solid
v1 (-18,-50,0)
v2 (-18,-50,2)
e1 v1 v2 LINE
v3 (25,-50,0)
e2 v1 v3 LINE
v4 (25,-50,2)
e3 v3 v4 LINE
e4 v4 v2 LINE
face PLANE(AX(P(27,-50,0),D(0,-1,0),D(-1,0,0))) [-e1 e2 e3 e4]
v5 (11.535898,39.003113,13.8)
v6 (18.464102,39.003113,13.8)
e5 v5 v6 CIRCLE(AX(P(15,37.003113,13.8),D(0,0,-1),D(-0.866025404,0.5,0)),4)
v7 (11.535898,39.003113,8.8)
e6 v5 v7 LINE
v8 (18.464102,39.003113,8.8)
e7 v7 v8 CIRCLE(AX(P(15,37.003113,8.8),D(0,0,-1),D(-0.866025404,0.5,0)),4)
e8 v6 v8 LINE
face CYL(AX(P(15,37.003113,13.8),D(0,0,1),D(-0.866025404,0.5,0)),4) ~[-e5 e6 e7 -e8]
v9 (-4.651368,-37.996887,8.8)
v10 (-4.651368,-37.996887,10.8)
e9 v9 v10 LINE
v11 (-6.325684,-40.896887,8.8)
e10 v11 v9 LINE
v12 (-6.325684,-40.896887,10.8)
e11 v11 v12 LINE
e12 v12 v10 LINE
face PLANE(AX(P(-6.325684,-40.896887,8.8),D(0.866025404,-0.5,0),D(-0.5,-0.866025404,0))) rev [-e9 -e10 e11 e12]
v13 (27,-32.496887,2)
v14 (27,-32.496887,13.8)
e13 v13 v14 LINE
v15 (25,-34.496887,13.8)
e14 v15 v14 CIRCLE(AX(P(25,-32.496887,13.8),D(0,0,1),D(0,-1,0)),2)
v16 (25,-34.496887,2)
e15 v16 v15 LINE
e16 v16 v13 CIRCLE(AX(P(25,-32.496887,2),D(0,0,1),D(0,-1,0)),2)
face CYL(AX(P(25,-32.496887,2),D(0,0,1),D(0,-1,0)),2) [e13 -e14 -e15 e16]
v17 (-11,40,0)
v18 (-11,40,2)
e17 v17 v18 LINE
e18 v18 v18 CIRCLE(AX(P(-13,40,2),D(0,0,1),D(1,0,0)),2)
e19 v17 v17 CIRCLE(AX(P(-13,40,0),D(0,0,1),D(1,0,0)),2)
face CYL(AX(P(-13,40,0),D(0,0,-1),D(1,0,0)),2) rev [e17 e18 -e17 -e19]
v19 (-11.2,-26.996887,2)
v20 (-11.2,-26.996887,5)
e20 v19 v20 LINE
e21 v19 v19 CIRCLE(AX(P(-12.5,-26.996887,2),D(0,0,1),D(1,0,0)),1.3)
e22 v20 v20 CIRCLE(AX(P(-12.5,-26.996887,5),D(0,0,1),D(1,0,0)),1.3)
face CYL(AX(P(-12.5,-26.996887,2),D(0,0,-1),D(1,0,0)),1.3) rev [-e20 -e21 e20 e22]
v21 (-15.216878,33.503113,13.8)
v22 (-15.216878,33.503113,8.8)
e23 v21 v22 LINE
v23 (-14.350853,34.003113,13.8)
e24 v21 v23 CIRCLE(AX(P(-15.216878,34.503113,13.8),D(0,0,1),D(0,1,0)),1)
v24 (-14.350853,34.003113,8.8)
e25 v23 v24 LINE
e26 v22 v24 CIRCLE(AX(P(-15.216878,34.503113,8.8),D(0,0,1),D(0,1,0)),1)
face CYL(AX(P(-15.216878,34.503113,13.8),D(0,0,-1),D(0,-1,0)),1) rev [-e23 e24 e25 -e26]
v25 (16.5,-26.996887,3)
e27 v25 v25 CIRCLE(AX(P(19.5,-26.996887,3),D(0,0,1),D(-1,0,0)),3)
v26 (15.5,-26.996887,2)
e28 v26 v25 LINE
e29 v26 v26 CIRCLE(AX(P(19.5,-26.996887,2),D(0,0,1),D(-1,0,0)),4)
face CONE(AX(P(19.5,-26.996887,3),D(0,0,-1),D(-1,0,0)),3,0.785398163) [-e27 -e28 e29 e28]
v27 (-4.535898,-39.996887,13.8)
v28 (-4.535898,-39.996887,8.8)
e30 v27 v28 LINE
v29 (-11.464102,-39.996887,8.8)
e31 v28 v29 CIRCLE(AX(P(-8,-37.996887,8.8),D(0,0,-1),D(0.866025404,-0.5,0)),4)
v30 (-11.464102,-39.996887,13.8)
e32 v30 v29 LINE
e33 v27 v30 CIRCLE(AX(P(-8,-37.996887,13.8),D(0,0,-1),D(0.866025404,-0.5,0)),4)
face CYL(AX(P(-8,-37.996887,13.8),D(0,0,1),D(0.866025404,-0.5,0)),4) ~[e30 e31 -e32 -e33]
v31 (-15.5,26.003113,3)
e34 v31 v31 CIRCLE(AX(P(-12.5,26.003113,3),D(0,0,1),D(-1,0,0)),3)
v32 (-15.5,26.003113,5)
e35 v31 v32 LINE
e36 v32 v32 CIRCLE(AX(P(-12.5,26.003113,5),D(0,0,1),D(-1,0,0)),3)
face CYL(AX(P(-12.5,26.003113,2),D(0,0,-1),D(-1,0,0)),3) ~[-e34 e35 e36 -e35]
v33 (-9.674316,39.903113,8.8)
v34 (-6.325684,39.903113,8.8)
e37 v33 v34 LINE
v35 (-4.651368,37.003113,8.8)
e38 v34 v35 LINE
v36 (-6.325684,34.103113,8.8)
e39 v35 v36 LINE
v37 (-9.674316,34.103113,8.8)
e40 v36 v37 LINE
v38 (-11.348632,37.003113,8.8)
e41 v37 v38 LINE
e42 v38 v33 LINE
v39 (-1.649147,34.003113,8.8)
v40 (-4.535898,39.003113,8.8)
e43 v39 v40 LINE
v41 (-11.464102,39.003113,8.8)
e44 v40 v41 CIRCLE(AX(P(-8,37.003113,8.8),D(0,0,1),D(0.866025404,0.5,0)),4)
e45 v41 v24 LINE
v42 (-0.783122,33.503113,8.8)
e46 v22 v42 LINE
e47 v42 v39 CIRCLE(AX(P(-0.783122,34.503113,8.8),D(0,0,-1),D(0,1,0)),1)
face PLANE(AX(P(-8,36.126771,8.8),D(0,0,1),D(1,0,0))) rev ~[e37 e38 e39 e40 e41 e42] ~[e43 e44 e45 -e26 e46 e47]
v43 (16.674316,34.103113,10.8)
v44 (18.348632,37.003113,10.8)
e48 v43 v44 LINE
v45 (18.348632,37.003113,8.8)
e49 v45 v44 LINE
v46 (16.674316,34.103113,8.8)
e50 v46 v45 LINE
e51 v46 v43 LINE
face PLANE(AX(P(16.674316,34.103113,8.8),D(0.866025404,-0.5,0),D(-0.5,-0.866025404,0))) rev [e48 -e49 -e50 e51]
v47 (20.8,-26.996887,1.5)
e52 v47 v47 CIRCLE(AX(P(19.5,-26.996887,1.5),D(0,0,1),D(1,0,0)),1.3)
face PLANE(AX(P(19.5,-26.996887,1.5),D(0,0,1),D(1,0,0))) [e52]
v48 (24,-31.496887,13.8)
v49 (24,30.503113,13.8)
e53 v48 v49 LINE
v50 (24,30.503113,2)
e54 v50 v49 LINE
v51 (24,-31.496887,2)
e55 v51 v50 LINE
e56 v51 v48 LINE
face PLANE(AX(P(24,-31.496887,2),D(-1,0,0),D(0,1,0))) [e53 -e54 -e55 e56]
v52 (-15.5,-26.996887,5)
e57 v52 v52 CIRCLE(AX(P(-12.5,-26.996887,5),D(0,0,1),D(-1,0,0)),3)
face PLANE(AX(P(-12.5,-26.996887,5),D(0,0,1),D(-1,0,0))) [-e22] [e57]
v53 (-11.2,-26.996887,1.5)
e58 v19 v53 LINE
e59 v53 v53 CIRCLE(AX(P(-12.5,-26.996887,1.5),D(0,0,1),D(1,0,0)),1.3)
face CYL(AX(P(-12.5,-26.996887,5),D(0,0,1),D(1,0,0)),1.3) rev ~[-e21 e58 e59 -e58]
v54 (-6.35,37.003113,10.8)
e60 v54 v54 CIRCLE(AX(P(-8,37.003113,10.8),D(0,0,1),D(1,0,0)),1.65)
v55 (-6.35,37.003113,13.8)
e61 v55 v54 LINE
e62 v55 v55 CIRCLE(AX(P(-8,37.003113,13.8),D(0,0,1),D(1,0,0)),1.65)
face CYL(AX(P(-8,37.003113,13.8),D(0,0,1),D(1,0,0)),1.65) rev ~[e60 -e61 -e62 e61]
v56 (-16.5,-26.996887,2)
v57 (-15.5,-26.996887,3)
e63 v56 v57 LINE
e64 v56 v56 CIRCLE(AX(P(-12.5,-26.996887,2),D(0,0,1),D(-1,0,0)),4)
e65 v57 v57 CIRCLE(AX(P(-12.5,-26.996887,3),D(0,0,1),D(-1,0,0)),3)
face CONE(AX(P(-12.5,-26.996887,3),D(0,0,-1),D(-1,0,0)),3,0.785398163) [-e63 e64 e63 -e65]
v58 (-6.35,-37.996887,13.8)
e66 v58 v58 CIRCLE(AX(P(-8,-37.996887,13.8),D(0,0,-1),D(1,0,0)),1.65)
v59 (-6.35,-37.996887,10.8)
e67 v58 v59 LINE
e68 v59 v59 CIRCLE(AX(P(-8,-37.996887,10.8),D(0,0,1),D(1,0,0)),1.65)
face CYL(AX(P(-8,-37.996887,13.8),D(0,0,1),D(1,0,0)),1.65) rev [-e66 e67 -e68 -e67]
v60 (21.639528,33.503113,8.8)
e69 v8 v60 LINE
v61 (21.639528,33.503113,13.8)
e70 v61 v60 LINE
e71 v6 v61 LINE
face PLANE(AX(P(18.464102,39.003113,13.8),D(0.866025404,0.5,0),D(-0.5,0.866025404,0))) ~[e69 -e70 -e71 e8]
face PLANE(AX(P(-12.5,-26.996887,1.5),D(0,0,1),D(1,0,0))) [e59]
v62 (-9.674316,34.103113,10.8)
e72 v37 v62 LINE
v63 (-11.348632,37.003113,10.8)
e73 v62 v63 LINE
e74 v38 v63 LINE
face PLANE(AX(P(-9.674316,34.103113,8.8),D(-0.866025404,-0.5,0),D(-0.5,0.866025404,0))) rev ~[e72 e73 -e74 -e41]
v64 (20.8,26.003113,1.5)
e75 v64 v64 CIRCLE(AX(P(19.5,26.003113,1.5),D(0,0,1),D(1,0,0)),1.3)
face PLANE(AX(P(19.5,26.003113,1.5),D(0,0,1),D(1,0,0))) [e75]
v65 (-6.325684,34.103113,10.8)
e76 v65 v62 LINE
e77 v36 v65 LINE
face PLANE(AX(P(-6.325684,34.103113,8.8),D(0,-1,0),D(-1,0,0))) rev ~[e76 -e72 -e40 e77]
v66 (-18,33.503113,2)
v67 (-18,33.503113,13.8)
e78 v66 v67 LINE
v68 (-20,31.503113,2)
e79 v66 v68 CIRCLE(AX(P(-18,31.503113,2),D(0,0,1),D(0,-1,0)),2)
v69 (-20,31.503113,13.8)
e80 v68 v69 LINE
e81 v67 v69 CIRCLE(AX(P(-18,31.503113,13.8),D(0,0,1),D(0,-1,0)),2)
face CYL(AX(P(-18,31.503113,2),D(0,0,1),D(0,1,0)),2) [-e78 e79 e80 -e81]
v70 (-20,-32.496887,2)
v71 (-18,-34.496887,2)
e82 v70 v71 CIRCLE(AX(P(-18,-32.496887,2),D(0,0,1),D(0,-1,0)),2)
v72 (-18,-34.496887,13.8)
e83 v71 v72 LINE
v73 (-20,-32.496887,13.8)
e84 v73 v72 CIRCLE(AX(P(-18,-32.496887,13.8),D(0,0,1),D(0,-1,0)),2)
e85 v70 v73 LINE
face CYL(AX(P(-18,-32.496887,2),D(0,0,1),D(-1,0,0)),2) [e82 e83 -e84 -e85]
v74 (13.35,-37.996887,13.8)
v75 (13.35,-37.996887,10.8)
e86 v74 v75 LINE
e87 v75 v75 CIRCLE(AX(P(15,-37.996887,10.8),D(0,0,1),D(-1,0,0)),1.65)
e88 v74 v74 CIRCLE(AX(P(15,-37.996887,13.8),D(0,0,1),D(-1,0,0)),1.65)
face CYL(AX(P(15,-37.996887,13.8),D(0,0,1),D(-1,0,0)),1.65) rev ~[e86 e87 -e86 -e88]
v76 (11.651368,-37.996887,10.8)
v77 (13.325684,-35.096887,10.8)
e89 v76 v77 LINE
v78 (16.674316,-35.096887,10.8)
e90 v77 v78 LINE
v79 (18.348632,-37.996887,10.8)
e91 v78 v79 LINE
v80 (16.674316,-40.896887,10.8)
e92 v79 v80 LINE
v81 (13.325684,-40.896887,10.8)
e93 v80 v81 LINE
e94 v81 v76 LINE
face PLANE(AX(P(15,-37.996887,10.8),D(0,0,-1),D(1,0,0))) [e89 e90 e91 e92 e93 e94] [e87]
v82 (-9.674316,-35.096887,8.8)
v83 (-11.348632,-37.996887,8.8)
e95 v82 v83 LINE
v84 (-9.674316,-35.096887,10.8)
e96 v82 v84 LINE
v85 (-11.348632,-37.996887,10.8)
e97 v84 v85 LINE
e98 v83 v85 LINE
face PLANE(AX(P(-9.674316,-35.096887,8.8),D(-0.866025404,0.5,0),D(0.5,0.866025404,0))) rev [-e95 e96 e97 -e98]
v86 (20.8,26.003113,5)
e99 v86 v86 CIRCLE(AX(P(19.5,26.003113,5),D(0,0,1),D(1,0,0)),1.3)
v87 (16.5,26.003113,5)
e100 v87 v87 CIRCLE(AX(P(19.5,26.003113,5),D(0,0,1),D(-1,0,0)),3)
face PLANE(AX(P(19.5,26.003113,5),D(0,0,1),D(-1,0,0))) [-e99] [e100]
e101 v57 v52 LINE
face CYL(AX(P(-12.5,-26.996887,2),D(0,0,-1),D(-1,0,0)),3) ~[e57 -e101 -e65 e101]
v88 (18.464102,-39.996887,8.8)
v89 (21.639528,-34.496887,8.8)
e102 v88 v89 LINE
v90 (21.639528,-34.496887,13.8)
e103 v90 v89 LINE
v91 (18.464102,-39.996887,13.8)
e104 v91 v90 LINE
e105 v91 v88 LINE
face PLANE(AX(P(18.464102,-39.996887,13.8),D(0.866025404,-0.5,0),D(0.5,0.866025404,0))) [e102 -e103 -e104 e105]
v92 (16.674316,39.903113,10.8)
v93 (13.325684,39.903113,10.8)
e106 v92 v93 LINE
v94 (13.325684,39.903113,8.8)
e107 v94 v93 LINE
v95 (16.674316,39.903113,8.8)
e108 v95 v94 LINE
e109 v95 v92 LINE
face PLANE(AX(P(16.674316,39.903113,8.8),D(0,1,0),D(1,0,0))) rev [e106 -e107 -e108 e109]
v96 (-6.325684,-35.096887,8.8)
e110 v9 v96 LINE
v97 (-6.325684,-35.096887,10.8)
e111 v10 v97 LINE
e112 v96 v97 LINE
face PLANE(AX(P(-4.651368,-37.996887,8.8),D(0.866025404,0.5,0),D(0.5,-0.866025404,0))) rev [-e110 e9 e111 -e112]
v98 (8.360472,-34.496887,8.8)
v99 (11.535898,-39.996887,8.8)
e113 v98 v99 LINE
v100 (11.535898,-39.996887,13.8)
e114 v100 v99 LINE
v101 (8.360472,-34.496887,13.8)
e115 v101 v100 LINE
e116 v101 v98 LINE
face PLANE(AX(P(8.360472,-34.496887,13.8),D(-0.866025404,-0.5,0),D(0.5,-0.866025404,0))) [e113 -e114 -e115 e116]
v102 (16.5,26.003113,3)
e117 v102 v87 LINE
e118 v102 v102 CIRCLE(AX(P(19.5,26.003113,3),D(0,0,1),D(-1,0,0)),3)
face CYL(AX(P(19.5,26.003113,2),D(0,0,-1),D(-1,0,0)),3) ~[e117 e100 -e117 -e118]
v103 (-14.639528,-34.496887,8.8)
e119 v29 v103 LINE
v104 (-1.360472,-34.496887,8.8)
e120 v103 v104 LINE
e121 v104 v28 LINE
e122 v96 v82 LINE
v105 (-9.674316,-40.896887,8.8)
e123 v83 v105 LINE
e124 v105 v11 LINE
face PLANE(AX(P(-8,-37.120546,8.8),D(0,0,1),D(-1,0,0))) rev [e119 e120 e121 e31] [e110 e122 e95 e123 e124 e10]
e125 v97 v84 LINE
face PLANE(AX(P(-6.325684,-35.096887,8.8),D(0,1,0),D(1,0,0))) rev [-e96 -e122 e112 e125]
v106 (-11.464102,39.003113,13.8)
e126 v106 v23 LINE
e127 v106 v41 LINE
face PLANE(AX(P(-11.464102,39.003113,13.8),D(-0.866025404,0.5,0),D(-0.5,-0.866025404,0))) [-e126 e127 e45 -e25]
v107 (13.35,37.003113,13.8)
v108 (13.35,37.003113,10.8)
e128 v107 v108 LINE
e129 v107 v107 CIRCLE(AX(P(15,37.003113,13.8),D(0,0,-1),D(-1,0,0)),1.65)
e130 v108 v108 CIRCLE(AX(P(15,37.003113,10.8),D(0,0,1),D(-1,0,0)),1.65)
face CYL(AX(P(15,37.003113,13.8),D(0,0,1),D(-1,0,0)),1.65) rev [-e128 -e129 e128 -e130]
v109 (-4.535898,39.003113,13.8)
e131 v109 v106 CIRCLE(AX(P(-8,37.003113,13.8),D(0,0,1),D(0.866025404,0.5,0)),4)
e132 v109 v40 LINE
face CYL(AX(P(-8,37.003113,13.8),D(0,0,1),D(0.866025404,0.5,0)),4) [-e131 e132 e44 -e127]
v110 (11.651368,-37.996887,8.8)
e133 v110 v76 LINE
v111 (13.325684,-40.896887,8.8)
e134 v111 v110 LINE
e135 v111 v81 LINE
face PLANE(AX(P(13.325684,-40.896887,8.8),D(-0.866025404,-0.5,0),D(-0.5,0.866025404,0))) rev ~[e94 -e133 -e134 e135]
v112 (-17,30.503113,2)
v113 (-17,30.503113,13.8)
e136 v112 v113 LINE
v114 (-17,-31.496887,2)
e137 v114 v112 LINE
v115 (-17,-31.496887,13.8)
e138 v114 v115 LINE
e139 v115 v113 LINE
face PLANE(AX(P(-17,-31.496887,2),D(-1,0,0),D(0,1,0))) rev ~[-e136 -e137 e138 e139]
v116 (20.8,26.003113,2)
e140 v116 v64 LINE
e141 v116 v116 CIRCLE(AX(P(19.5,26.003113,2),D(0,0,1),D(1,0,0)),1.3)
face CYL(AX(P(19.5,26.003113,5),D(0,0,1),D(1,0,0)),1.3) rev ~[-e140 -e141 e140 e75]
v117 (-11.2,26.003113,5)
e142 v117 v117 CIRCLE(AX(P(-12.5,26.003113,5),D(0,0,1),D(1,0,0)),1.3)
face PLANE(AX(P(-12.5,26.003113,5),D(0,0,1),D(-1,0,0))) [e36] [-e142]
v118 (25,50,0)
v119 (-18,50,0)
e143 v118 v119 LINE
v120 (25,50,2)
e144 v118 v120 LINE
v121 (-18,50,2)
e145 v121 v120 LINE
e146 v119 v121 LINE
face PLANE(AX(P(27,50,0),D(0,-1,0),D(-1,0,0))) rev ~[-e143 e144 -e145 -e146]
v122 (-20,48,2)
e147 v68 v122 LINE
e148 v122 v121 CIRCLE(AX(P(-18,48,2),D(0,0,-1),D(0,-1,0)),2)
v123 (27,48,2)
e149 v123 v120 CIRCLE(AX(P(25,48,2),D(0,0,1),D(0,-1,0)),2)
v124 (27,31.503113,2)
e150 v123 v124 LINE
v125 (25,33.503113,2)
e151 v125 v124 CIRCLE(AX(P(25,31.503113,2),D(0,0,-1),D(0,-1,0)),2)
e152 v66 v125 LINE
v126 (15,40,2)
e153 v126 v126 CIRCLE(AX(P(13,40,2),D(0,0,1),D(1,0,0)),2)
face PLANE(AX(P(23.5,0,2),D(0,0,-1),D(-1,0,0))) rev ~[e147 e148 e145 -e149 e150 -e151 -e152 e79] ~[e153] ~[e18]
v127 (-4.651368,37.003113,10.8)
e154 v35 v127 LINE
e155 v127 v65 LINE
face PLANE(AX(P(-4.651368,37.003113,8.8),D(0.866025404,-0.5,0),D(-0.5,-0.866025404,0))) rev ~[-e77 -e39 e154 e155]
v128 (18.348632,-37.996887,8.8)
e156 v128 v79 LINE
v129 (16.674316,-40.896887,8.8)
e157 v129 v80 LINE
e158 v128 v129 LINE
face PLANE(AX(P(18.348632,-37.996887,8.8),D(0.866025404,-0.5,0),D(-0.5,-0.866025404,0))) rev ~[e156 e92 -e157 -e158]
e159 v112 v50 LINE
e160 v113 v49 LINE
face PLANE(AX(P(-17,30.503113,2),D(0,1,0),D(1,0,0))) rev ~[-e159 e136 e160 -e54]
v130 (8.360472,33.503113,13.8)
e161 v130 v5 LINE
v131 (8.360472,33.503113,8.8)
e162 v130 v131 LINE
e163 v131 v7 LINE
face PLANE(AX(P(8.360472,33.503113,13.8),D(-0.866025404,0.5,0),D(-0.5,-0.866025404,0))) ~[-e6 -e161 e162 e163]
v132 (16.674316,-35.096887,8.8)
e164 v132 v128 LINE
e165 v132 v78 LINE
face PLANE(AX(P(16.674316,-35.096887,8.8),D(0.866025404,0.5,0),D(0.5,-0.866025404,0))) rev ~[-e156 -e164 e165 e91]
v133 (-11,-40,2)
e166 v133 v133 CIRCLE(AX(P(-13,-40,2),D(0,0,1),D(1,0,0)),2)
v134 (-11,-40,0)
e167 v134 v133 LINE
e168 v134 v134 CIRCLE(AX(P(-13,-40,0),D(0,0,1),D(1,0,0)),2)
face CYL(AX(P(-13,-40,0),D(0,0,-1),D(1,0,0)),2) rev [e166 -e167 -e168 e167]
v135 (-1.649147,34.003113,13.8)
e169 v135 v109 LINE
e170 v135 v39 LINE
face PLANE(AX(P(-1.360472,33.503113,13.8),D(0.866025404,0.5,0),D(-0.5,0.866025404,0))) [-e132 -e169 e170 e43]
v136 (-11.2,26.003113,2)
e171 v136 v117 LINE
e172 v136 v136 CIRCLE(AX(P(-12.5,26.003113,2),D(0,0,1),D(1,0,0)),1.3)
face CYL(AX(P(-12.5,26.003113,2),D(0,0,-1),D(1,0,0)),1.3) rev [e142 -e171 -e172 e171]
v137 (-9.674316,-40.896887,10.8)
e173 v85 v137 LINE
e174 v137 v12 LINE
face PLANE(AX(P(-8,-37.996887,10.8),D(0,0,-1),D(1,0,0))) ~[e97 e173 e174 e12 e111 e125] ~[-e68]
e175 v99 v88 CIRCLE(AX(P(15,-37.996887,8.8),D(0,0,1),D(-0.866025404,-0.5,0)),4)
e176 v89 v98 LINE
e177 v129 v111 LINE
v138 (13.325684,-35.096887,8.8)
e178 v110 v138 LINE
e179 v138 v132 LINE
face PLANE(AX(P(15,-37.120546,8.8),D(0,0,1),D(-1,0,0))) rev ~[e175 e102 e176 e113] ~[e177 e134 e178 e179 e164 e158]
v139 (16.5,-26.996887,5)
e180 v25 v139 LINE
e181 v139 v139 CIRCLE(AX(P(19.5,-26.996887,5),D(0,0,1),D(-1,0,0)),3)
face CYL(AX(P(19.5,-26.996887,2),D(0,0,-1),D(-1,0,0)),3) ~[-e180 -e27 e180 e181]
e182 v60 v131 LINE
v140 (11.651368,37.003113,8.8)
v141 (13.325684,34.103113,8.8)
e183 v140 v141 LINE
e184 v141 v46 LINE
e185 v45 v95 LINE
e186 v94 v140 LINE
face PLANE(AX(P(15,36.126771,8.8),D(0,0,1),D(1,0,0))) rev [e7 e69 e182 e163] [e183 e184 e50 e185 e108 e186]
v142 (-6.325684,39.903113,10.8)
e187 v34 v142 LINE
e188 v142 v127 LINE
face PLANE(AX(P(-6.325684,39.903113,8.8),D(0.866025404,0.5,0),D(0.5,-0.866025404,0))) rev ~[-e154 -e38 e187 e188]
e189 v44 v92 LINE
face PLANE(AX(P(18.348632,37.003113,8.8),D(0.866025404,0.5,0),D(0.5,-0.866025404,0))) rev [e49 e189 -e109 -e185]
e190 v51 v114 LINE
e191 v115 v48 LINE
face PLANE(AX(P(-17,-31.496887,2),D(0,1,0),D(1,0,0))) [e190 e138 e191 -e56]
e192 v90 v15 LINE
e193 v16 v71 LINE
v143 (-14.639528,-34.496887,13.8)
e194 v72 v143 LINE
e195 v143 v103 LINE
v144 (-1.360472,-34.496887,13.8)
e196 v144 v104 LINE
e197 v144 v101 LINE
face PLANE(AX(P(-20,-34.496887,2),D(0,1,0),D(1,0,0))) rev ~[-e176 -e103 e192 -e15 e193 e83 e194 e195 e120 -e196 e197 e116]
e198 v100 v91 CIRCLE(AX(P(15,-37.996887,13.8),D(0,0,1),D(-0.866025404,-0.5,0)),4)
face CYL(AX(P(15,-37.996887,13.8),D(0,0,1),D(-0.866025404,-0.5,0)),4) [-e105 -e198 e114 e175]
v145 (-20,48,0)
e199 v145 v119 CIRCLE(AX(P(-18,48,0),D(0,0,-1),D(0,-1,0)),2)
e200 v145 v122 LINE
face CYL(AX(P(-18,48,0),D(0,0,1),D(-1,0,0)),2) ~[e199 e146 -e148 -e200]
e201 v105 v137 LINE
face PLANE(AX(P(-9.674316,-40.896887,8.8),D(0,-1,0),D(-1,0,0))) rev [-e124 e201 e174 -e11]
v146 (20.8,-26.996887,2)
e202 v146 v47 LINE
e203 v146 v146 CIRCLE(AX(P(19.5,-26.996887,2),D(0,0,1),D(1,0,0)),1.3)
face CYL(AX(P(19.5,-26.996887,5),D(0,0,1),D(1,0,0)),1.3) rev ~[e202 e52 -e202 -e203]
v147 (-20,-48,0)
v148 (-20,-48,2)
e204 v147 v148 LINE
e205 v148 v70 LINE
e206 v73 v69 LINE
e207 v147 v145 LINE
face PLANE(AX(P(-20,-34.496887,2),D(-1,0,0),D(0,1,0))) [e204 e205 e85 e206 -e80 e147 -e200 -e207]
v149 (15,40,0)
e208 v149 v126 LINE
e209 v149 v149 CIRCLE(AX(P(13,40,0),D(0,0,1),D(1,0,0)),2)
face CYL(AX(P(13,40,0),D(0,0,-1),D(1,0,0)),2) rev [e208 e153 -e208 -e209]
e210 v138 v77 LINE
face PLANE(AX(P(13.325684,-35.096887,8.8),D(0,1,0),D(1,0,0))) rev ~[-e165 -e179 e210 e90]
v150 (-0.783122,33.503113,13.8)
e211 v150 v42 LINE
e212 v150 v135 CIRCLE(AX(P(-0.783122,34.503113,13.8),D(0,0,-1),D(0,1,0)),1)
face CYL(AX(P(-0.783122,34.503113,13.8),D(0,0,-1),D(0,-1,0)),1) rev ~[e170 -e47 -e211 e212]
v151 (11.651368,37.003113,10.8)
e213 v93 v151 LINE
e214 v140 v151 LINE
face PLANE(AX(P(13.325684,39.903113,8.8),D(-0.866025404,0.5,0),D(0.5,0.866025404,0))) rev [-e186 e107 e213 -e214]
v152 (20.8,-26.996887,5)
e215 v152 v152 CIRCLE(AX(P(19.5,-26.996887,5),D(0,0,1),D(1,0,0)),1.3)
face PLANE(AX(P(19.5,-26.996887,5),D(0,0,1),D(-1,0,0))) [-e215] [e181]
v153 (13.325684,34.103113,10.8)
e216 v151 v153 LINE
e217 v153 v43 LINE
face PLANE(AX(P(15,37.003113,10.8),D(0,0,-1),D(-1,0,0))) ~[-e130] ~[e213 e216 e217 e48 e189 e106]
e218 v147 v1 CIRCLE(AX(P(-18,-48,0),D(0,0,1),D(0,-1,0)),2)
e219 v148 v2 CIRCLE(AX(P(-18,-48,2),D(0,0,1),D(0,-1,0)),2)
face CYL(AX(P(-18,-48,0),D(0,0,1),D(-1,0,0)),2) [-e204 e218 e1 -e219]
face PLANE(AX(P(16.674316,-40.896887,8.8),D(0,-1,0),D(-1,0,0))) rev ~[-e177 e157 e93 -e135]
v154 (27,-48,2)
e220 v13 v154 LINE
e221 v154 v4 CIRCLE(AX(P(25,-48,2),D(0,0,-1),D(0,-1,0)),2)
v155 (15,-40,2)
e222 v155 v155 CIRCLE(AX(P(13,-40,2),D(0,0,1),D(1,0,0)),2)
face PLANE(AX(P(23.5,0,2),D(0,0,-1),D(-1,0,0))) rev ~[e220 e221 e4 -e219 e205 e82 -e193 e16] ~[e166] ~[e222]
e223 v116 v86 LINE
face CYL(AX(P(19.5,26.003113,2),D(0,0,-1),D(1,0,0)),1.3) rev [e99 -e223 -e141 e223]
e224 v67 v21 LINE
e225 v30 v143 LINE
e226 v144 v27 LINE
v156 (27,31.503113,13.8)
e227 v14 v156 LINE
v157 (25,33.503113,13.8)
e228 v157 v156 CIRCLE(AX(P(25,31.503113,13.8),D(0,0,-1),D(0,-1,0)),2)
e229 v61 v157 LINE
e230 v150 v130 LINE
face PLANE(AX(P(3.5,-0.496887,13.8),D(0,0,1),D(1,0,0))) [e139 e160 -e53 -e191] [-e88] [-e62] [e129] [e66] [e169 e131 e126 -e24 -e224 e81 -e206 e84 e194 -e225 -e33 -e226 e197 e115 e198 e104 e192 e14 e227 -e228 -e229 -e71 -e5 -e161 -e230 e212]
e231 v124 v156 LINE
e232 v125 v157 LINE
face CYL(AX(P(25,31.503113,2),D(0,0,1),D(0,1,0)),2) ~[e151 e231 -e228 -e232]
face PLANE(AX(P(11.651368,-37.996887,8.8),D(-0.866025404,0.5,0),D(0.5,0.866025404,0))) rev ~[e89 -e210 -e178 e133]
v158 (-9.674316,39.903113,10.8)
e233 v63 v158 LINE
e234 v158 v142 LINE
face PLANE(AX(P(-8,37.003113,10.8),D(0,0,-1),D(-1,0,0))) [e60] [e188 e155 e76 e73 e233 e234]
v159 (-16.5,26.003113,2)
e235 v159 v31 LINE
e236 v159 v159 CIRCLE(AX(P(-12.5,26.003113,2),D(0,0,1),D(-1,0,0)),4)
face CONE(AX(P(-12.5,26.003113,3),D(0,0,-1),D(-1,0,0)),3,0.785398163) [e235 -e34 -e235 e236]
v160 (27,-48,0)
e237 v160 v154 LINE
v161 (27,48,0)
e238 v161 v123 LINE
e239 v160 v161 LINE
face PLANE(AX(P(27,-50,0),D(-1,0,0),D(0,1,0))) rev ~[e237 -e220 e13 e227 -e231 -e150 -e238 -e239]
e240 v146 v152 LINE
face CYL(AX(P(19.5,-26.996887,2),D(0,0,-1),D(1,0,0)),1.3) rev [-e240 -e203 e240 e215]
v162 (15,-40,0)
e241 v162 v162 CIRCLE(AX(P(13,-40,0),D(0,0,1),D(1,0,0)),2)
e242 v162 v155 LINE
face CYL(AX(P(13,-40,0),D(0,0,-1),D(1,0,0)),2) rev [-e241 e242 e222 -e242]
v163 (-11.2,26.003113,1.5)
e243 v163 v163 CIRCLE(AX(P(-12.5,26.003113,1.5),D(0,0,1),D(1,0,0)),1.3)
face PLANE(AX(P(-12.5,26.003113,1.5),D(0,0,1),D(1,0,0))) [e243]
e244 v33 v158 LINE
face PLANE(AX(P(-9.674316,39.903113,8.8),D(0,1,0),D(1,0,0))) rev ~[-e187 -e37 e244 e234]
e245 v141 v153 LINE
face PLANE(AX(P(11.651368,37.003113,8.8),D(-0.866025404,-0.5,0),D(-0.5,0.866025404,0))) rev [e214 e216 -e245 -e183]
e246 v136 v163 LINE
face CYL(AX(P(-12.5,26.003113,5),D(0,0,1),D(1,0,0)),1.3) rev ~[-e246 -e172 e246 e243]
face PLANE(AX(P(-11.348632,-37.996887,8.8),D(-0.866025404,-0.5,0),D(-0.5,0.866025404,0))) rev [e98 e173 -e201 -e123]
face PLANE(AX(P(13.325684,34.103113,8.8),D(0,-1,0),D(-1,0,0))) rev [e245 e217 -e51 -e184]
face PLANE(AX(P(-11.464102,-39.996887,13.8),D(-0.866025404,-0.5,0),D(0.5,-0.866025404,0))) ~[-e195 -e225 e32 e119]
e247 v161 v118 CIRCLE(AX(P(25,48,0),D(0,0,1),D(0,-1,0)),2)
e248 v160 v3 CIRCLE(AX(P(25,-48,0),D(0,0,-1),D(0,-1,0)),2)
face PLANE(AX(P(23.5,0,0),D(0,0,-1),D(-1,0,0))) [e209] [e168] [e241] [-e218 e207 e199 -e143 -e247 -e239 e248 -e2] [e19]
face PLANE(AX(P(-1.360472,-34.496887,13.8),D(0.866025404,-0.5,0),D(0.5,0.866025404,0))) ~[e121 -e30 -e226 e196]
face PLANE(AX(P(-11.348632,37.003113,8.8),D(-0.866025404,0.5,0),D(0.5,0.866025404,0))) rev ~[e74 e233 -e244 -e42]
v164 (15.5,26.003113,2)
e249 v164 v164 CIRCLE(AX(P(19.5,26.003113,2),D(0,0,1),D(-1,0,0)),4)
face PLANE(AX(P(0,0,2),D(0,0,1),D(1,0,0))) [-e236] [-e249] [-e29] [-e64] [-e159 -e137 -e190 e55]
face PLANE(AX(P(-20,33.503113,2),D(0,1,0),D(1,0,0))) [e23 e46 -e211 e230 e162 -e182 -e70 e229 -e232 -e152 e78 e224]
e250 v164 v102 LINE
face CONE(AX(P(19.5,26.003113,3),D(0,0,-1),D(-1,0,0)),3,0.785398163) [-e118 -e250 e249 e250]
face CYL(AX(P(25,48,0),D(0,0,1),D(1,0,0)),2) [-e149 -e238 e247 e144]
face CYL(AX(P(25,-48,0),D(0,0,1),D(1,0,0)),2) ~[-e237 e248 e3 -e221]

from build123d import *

# Parameters (mm, degrees)
SKETCH_1_W               = 40
SKETCH_1_H               = 100
SKETCH_1_R               = 2
EXTRUDE_1_DEPTH          = 2
SKETCH_2_W               = 47
SKETCH_2_H               = 68
SKETCH_2_W_2             = 41
SKETCH_2_H_2             = 62
EXTRUDE_2_DEPTH          = 11.8
SKETCH_3_W               = 7
SKETCH_3_H               = 100
EXTRUDE_3_DEPTH          = 2
SKETCH_4_R               = 3
SKETCH_4_R_2             = 1.3
EXTRUDE_4_DEPTH          = 3
SKETCH_5_R               = 1.3
CUT_EXTRUDE_1_DEPTH      = 3.5
SKETCH_6_R               = 1.65
EXTRUDE_5_DEPTH          = 5
CUT_EXTRUDE_2_DEPTH      = 2
FILLET_1_R               = 1
MIRROR_5_COPY_1_SKETCH_R = 1.65
MIRROR_5_COPY_1_DEPTH    = 5
MIRROR_5_COPY_2_DEPTH    = 2
FILLET_2_R               = 2
CHAMFER_1_SIZE           = 1


with BuildPart() as part:
    # 草图1 → 凸台-拉伸1 (new body)
    with BuildSketch(Plane.XY):
        Rectangle(SKETCH_1_W, SKETCH_1_H)
        with Locations((-13, 40)):
            Circle(SKETCH_1_R, mode=Mode.SUBTRACT)
        with Locations((13, 40)):
            Circle(SKETCH_1_R, mode=Mode.SUBTRACT)
        with Locations((-13, -40)):
            Circle(SKETCH_1_R, mode=Mode.SUBTRACT)
        with Locations((13, -40)):
            Circle(SKETCH_1_R, mode=Mode.SUBTRACT)
    extrude(amount=EXTRUDE_1_DEPTH)

    # 草图2 → 凸台-拉伸2 (add)
    with BuildSketch(Plane.XY.offset(2)):
        with Locations((3.5, -0.496887342)):
            Rectangle(SKETCH_2_W, SKETCH_2_H)
        with Locations((3.5, -0.496887342)):
            Rectangle(SKETCH_2_W_2, SKETCH_2_H_2, mode=Mode.SUBTRACT)
    extrude(amount=EXTRUDE_2_DEPTH)

    # 草图3 → 凸台-拉伸3 (add)
    with BuildSketch(Plane(origin=(0, 0, 0), x_dir=(-1, 0, 0), z_dir=(0, 0, -1))):
        with Locations((-23.5, 0)):
            Rectangle(SKETCH_3_W, SKETCH_3_H)
    extrude(amount=-EXTRUDE_3_DEPTH)

    # 草图4 → 凸台-拉伸4 (add)
    with BuildSketch(Plane.XY.offset(2)):
        with Locations(Location((-12.5, 26.003112658, 0), (0, 0, 180))):
            Circle(SKETCH_4_R)
        with Locations((-12.5, 26.003112658)):
            Circle(SKETCH_4_R_2, mode=Mode.SUBTRACT)
        with Locations(Location((19.5, 26.003112658, 0), (0, 0, 180))):
            Circle(SKETCH_4_R)
        with Locations((19.5, 26.003112658)):
            Circle(SKETCH_4_R_2, mode=Mode.SUBTRACT)
        with Locations(Location((19.5, -26.996887342, 0), (0, 0, 180))):
            Circle(SKETCH_4_R)
        with Locations((19.5, -26.996887342)):
            Circle(SKETCH_4_R_2, mode=Mode.SUBTRACT)
        with Locations(Location((-12.5, -26.996887342, 0), (0, 0, 180))):
            Circle(SKETCH_4_R)
        with Locations((-12.5, -26.996887342)):
            Circle(SKETCH_4_R_2, mode=Mode.SUBTRACT)
    extrude(amount=EXTRUDE_4_DEPTH)

    # 草图5 → 切除-拉伸1 (cut)
    with BuildSketch(Plane.XY.offset(5)):
        with Locations((-12.5, -26.996887342)):
            Circle(SKETCH_5_R)
        with Locations((19.5, -26.996887342)):
            Circle(SKETCH_5_R)
        with Locations((19.5, 26.003112658)):
            Circle(SKETCH_5_R)
        with Locations((-12.5, 26.003112658)):
            Circle(SKETCH_5_R)
    extrude(amount=-CUT_EXTRUDE_1_DEPTH, mode=Mode.SUBTRACT)

    # 草图6 → 凸台-拉伸5 (add)
    with BuildSketch(Plane.XY.offset(13.8)):
        with BuildLine():
            Line((-14.639528096, 33.503112658), (-1.360471904, 33.503112658))
            Line((-1.360471904, 33.503112658), (-4.535898385, 39.003112658))
            ThreePointArc((-4.535898385, 39.003112658), (-8, 41.003112658), (-11.464101615, 39.003112658))
            Line((-11.464101615, 39.003112658), (-14.639528096, 33.503112658))
        make_face()
        with Locations((-8, 37.003112658)):
            Circle(SKETCH_6_R, mode=Mode.SUBTRACT)
    extrude_5 = extrude(amount=-EXTRUDE_5_DEPTH)

    # 草图7 → 切除-拉伸2 (cut)
    with BuildSketch(Plane(origin=(0, 0, 8.8), x_dir=(-1, 0, 0), z_dir=(0, 0, -1))):
        Polygon((6.325684219, 39.903112658), (4.651368439, 37.003112658), (6.325684219, 34.103112658), (9.674315781, 34.103112658), (11.348631561, 37.003112658), (9.674315781, 39.903112658), align=None)
    cut_extrude_2 = extrude(amount=-CUT_EXTRUDE_2_DEPTH, mode=Mode.SUBTRACT)

    # 圆角1
    fillet_1_edges = [part.edges().sort_by_distance(p)[0] for p in [
        (-14.639528096, 33.503112658, 11.3),
        (-1.360471904, 33.503112658, 11.3),
    ]]
    fillet(fillet_1_edges, radius=FILLET_1_R)

    # 镜向1: 凸台-拉伸5, 切除-拉伸2 across plane
    add(extrude_5.mirror(Plane(origin=(3.5, 0, 0), x_dir=(0, 0, 1), z_dir=(1, 0, 0))))
    add(cut_extrude_2.mirror(Plane(origin=(3.5, 0, 0), x_dir=(0, 0, 1), z_dir=(1, 0, 0))), mode=Mode.SUBTRACT)

    # 镜向5: 凸台-拉伸5, 切除-拉伸2 across plane
    add(extrude_5.mirror(Plane(origin=(0, -0.496887342, 0), x_dir=(0, 0, 1), z_dir=(0, -1, 0))))
    add(cut_extrude_2.mirror(Plane(origin=(0, -0.496887342, 0), x_dir=(0, 0, 1), z_dir=(0, -1, 0))), mode=Mode.SUBTRACT)

    # 镜向5 copy 1 sketch → 镜向5 copy 1 (add)
    with BuildSketch(Plane(origin=(7, -0.993774684, 13.8), x_dir=(-1, 0, 0), z_dir=(0, 0, 1))):
        with BuildLine():
            Line((-14.639528096, 33.503112658), (-1.360471904, 33.503112658))
            Line((-1.360471904, 33.503112658), (-4.535898385, 39.003112658))
            ThreePointArc((-4.535898385, 39.003112658), (-8, 41.003112658), (-11.464101615, 39.003112658))
            Line((-11.464101615, 39.003112658), (-14.639528096, 33.503112658))
        make_face()
        with Locations((-8, 37.003112658)):
            Circle(MIRROR_5_COPY_1_SKETCH_R, mode=Mode.SUBTRACT)
    extrude(amount=-MIRROR_5_COPY_1_DEPTH)

    # 镜向5 copy 2 sketch → 镜向5 copy 2 (cut)
    with BuildSketch(Plane(origin=(7, -0.993774684, 8.8), x_dir=(1, 0, 0), z_dir=(0, 0, -1))):
        Polygon((6.325684219, 39.903112658), (4.651368439, 37.003112658), (6.325684219, 34.103112658), (9.674315781, 34.103112658), (11.348631561, 37.003112658), (9.674315781, 39.903112658), align=None)
    extrude(amount=-MIRROR_5_COPY_2_DEPTH, mode=Mode.SUBTRACT)

    # 圆角2
    fillet_2_edges = [part.edges().sort_by_distance(p)[0] for p in [
        (27, 33.503112658, 7.9),
        (-20, 33.503112658, 7.9),
        (-20, -34.496887342, 7.9),
        (27, -34.496887342, 7.9),
        (27, -50, 1),
        (27, 50, 1),
        (-20, -50, 1),
        (-20, 50, 1),
    ]]
    fillet(fillet_2_edges, radius=FILLET_2_R)

    # 倒角1
    chamfer_1_edges = [part.edges().sort_by_distance(p)[0] for p in [
        (-9.5, 26.003112658, 2),
        (22.5, 26.003112658, 2),
        (22.5, -26.996887342, 2),
        (-9.5, -26.996887342, 2),
    ]]
    chamfer(chamfer_1_edges, length=CHAMFER_1_SIZE)


solid = part.part
